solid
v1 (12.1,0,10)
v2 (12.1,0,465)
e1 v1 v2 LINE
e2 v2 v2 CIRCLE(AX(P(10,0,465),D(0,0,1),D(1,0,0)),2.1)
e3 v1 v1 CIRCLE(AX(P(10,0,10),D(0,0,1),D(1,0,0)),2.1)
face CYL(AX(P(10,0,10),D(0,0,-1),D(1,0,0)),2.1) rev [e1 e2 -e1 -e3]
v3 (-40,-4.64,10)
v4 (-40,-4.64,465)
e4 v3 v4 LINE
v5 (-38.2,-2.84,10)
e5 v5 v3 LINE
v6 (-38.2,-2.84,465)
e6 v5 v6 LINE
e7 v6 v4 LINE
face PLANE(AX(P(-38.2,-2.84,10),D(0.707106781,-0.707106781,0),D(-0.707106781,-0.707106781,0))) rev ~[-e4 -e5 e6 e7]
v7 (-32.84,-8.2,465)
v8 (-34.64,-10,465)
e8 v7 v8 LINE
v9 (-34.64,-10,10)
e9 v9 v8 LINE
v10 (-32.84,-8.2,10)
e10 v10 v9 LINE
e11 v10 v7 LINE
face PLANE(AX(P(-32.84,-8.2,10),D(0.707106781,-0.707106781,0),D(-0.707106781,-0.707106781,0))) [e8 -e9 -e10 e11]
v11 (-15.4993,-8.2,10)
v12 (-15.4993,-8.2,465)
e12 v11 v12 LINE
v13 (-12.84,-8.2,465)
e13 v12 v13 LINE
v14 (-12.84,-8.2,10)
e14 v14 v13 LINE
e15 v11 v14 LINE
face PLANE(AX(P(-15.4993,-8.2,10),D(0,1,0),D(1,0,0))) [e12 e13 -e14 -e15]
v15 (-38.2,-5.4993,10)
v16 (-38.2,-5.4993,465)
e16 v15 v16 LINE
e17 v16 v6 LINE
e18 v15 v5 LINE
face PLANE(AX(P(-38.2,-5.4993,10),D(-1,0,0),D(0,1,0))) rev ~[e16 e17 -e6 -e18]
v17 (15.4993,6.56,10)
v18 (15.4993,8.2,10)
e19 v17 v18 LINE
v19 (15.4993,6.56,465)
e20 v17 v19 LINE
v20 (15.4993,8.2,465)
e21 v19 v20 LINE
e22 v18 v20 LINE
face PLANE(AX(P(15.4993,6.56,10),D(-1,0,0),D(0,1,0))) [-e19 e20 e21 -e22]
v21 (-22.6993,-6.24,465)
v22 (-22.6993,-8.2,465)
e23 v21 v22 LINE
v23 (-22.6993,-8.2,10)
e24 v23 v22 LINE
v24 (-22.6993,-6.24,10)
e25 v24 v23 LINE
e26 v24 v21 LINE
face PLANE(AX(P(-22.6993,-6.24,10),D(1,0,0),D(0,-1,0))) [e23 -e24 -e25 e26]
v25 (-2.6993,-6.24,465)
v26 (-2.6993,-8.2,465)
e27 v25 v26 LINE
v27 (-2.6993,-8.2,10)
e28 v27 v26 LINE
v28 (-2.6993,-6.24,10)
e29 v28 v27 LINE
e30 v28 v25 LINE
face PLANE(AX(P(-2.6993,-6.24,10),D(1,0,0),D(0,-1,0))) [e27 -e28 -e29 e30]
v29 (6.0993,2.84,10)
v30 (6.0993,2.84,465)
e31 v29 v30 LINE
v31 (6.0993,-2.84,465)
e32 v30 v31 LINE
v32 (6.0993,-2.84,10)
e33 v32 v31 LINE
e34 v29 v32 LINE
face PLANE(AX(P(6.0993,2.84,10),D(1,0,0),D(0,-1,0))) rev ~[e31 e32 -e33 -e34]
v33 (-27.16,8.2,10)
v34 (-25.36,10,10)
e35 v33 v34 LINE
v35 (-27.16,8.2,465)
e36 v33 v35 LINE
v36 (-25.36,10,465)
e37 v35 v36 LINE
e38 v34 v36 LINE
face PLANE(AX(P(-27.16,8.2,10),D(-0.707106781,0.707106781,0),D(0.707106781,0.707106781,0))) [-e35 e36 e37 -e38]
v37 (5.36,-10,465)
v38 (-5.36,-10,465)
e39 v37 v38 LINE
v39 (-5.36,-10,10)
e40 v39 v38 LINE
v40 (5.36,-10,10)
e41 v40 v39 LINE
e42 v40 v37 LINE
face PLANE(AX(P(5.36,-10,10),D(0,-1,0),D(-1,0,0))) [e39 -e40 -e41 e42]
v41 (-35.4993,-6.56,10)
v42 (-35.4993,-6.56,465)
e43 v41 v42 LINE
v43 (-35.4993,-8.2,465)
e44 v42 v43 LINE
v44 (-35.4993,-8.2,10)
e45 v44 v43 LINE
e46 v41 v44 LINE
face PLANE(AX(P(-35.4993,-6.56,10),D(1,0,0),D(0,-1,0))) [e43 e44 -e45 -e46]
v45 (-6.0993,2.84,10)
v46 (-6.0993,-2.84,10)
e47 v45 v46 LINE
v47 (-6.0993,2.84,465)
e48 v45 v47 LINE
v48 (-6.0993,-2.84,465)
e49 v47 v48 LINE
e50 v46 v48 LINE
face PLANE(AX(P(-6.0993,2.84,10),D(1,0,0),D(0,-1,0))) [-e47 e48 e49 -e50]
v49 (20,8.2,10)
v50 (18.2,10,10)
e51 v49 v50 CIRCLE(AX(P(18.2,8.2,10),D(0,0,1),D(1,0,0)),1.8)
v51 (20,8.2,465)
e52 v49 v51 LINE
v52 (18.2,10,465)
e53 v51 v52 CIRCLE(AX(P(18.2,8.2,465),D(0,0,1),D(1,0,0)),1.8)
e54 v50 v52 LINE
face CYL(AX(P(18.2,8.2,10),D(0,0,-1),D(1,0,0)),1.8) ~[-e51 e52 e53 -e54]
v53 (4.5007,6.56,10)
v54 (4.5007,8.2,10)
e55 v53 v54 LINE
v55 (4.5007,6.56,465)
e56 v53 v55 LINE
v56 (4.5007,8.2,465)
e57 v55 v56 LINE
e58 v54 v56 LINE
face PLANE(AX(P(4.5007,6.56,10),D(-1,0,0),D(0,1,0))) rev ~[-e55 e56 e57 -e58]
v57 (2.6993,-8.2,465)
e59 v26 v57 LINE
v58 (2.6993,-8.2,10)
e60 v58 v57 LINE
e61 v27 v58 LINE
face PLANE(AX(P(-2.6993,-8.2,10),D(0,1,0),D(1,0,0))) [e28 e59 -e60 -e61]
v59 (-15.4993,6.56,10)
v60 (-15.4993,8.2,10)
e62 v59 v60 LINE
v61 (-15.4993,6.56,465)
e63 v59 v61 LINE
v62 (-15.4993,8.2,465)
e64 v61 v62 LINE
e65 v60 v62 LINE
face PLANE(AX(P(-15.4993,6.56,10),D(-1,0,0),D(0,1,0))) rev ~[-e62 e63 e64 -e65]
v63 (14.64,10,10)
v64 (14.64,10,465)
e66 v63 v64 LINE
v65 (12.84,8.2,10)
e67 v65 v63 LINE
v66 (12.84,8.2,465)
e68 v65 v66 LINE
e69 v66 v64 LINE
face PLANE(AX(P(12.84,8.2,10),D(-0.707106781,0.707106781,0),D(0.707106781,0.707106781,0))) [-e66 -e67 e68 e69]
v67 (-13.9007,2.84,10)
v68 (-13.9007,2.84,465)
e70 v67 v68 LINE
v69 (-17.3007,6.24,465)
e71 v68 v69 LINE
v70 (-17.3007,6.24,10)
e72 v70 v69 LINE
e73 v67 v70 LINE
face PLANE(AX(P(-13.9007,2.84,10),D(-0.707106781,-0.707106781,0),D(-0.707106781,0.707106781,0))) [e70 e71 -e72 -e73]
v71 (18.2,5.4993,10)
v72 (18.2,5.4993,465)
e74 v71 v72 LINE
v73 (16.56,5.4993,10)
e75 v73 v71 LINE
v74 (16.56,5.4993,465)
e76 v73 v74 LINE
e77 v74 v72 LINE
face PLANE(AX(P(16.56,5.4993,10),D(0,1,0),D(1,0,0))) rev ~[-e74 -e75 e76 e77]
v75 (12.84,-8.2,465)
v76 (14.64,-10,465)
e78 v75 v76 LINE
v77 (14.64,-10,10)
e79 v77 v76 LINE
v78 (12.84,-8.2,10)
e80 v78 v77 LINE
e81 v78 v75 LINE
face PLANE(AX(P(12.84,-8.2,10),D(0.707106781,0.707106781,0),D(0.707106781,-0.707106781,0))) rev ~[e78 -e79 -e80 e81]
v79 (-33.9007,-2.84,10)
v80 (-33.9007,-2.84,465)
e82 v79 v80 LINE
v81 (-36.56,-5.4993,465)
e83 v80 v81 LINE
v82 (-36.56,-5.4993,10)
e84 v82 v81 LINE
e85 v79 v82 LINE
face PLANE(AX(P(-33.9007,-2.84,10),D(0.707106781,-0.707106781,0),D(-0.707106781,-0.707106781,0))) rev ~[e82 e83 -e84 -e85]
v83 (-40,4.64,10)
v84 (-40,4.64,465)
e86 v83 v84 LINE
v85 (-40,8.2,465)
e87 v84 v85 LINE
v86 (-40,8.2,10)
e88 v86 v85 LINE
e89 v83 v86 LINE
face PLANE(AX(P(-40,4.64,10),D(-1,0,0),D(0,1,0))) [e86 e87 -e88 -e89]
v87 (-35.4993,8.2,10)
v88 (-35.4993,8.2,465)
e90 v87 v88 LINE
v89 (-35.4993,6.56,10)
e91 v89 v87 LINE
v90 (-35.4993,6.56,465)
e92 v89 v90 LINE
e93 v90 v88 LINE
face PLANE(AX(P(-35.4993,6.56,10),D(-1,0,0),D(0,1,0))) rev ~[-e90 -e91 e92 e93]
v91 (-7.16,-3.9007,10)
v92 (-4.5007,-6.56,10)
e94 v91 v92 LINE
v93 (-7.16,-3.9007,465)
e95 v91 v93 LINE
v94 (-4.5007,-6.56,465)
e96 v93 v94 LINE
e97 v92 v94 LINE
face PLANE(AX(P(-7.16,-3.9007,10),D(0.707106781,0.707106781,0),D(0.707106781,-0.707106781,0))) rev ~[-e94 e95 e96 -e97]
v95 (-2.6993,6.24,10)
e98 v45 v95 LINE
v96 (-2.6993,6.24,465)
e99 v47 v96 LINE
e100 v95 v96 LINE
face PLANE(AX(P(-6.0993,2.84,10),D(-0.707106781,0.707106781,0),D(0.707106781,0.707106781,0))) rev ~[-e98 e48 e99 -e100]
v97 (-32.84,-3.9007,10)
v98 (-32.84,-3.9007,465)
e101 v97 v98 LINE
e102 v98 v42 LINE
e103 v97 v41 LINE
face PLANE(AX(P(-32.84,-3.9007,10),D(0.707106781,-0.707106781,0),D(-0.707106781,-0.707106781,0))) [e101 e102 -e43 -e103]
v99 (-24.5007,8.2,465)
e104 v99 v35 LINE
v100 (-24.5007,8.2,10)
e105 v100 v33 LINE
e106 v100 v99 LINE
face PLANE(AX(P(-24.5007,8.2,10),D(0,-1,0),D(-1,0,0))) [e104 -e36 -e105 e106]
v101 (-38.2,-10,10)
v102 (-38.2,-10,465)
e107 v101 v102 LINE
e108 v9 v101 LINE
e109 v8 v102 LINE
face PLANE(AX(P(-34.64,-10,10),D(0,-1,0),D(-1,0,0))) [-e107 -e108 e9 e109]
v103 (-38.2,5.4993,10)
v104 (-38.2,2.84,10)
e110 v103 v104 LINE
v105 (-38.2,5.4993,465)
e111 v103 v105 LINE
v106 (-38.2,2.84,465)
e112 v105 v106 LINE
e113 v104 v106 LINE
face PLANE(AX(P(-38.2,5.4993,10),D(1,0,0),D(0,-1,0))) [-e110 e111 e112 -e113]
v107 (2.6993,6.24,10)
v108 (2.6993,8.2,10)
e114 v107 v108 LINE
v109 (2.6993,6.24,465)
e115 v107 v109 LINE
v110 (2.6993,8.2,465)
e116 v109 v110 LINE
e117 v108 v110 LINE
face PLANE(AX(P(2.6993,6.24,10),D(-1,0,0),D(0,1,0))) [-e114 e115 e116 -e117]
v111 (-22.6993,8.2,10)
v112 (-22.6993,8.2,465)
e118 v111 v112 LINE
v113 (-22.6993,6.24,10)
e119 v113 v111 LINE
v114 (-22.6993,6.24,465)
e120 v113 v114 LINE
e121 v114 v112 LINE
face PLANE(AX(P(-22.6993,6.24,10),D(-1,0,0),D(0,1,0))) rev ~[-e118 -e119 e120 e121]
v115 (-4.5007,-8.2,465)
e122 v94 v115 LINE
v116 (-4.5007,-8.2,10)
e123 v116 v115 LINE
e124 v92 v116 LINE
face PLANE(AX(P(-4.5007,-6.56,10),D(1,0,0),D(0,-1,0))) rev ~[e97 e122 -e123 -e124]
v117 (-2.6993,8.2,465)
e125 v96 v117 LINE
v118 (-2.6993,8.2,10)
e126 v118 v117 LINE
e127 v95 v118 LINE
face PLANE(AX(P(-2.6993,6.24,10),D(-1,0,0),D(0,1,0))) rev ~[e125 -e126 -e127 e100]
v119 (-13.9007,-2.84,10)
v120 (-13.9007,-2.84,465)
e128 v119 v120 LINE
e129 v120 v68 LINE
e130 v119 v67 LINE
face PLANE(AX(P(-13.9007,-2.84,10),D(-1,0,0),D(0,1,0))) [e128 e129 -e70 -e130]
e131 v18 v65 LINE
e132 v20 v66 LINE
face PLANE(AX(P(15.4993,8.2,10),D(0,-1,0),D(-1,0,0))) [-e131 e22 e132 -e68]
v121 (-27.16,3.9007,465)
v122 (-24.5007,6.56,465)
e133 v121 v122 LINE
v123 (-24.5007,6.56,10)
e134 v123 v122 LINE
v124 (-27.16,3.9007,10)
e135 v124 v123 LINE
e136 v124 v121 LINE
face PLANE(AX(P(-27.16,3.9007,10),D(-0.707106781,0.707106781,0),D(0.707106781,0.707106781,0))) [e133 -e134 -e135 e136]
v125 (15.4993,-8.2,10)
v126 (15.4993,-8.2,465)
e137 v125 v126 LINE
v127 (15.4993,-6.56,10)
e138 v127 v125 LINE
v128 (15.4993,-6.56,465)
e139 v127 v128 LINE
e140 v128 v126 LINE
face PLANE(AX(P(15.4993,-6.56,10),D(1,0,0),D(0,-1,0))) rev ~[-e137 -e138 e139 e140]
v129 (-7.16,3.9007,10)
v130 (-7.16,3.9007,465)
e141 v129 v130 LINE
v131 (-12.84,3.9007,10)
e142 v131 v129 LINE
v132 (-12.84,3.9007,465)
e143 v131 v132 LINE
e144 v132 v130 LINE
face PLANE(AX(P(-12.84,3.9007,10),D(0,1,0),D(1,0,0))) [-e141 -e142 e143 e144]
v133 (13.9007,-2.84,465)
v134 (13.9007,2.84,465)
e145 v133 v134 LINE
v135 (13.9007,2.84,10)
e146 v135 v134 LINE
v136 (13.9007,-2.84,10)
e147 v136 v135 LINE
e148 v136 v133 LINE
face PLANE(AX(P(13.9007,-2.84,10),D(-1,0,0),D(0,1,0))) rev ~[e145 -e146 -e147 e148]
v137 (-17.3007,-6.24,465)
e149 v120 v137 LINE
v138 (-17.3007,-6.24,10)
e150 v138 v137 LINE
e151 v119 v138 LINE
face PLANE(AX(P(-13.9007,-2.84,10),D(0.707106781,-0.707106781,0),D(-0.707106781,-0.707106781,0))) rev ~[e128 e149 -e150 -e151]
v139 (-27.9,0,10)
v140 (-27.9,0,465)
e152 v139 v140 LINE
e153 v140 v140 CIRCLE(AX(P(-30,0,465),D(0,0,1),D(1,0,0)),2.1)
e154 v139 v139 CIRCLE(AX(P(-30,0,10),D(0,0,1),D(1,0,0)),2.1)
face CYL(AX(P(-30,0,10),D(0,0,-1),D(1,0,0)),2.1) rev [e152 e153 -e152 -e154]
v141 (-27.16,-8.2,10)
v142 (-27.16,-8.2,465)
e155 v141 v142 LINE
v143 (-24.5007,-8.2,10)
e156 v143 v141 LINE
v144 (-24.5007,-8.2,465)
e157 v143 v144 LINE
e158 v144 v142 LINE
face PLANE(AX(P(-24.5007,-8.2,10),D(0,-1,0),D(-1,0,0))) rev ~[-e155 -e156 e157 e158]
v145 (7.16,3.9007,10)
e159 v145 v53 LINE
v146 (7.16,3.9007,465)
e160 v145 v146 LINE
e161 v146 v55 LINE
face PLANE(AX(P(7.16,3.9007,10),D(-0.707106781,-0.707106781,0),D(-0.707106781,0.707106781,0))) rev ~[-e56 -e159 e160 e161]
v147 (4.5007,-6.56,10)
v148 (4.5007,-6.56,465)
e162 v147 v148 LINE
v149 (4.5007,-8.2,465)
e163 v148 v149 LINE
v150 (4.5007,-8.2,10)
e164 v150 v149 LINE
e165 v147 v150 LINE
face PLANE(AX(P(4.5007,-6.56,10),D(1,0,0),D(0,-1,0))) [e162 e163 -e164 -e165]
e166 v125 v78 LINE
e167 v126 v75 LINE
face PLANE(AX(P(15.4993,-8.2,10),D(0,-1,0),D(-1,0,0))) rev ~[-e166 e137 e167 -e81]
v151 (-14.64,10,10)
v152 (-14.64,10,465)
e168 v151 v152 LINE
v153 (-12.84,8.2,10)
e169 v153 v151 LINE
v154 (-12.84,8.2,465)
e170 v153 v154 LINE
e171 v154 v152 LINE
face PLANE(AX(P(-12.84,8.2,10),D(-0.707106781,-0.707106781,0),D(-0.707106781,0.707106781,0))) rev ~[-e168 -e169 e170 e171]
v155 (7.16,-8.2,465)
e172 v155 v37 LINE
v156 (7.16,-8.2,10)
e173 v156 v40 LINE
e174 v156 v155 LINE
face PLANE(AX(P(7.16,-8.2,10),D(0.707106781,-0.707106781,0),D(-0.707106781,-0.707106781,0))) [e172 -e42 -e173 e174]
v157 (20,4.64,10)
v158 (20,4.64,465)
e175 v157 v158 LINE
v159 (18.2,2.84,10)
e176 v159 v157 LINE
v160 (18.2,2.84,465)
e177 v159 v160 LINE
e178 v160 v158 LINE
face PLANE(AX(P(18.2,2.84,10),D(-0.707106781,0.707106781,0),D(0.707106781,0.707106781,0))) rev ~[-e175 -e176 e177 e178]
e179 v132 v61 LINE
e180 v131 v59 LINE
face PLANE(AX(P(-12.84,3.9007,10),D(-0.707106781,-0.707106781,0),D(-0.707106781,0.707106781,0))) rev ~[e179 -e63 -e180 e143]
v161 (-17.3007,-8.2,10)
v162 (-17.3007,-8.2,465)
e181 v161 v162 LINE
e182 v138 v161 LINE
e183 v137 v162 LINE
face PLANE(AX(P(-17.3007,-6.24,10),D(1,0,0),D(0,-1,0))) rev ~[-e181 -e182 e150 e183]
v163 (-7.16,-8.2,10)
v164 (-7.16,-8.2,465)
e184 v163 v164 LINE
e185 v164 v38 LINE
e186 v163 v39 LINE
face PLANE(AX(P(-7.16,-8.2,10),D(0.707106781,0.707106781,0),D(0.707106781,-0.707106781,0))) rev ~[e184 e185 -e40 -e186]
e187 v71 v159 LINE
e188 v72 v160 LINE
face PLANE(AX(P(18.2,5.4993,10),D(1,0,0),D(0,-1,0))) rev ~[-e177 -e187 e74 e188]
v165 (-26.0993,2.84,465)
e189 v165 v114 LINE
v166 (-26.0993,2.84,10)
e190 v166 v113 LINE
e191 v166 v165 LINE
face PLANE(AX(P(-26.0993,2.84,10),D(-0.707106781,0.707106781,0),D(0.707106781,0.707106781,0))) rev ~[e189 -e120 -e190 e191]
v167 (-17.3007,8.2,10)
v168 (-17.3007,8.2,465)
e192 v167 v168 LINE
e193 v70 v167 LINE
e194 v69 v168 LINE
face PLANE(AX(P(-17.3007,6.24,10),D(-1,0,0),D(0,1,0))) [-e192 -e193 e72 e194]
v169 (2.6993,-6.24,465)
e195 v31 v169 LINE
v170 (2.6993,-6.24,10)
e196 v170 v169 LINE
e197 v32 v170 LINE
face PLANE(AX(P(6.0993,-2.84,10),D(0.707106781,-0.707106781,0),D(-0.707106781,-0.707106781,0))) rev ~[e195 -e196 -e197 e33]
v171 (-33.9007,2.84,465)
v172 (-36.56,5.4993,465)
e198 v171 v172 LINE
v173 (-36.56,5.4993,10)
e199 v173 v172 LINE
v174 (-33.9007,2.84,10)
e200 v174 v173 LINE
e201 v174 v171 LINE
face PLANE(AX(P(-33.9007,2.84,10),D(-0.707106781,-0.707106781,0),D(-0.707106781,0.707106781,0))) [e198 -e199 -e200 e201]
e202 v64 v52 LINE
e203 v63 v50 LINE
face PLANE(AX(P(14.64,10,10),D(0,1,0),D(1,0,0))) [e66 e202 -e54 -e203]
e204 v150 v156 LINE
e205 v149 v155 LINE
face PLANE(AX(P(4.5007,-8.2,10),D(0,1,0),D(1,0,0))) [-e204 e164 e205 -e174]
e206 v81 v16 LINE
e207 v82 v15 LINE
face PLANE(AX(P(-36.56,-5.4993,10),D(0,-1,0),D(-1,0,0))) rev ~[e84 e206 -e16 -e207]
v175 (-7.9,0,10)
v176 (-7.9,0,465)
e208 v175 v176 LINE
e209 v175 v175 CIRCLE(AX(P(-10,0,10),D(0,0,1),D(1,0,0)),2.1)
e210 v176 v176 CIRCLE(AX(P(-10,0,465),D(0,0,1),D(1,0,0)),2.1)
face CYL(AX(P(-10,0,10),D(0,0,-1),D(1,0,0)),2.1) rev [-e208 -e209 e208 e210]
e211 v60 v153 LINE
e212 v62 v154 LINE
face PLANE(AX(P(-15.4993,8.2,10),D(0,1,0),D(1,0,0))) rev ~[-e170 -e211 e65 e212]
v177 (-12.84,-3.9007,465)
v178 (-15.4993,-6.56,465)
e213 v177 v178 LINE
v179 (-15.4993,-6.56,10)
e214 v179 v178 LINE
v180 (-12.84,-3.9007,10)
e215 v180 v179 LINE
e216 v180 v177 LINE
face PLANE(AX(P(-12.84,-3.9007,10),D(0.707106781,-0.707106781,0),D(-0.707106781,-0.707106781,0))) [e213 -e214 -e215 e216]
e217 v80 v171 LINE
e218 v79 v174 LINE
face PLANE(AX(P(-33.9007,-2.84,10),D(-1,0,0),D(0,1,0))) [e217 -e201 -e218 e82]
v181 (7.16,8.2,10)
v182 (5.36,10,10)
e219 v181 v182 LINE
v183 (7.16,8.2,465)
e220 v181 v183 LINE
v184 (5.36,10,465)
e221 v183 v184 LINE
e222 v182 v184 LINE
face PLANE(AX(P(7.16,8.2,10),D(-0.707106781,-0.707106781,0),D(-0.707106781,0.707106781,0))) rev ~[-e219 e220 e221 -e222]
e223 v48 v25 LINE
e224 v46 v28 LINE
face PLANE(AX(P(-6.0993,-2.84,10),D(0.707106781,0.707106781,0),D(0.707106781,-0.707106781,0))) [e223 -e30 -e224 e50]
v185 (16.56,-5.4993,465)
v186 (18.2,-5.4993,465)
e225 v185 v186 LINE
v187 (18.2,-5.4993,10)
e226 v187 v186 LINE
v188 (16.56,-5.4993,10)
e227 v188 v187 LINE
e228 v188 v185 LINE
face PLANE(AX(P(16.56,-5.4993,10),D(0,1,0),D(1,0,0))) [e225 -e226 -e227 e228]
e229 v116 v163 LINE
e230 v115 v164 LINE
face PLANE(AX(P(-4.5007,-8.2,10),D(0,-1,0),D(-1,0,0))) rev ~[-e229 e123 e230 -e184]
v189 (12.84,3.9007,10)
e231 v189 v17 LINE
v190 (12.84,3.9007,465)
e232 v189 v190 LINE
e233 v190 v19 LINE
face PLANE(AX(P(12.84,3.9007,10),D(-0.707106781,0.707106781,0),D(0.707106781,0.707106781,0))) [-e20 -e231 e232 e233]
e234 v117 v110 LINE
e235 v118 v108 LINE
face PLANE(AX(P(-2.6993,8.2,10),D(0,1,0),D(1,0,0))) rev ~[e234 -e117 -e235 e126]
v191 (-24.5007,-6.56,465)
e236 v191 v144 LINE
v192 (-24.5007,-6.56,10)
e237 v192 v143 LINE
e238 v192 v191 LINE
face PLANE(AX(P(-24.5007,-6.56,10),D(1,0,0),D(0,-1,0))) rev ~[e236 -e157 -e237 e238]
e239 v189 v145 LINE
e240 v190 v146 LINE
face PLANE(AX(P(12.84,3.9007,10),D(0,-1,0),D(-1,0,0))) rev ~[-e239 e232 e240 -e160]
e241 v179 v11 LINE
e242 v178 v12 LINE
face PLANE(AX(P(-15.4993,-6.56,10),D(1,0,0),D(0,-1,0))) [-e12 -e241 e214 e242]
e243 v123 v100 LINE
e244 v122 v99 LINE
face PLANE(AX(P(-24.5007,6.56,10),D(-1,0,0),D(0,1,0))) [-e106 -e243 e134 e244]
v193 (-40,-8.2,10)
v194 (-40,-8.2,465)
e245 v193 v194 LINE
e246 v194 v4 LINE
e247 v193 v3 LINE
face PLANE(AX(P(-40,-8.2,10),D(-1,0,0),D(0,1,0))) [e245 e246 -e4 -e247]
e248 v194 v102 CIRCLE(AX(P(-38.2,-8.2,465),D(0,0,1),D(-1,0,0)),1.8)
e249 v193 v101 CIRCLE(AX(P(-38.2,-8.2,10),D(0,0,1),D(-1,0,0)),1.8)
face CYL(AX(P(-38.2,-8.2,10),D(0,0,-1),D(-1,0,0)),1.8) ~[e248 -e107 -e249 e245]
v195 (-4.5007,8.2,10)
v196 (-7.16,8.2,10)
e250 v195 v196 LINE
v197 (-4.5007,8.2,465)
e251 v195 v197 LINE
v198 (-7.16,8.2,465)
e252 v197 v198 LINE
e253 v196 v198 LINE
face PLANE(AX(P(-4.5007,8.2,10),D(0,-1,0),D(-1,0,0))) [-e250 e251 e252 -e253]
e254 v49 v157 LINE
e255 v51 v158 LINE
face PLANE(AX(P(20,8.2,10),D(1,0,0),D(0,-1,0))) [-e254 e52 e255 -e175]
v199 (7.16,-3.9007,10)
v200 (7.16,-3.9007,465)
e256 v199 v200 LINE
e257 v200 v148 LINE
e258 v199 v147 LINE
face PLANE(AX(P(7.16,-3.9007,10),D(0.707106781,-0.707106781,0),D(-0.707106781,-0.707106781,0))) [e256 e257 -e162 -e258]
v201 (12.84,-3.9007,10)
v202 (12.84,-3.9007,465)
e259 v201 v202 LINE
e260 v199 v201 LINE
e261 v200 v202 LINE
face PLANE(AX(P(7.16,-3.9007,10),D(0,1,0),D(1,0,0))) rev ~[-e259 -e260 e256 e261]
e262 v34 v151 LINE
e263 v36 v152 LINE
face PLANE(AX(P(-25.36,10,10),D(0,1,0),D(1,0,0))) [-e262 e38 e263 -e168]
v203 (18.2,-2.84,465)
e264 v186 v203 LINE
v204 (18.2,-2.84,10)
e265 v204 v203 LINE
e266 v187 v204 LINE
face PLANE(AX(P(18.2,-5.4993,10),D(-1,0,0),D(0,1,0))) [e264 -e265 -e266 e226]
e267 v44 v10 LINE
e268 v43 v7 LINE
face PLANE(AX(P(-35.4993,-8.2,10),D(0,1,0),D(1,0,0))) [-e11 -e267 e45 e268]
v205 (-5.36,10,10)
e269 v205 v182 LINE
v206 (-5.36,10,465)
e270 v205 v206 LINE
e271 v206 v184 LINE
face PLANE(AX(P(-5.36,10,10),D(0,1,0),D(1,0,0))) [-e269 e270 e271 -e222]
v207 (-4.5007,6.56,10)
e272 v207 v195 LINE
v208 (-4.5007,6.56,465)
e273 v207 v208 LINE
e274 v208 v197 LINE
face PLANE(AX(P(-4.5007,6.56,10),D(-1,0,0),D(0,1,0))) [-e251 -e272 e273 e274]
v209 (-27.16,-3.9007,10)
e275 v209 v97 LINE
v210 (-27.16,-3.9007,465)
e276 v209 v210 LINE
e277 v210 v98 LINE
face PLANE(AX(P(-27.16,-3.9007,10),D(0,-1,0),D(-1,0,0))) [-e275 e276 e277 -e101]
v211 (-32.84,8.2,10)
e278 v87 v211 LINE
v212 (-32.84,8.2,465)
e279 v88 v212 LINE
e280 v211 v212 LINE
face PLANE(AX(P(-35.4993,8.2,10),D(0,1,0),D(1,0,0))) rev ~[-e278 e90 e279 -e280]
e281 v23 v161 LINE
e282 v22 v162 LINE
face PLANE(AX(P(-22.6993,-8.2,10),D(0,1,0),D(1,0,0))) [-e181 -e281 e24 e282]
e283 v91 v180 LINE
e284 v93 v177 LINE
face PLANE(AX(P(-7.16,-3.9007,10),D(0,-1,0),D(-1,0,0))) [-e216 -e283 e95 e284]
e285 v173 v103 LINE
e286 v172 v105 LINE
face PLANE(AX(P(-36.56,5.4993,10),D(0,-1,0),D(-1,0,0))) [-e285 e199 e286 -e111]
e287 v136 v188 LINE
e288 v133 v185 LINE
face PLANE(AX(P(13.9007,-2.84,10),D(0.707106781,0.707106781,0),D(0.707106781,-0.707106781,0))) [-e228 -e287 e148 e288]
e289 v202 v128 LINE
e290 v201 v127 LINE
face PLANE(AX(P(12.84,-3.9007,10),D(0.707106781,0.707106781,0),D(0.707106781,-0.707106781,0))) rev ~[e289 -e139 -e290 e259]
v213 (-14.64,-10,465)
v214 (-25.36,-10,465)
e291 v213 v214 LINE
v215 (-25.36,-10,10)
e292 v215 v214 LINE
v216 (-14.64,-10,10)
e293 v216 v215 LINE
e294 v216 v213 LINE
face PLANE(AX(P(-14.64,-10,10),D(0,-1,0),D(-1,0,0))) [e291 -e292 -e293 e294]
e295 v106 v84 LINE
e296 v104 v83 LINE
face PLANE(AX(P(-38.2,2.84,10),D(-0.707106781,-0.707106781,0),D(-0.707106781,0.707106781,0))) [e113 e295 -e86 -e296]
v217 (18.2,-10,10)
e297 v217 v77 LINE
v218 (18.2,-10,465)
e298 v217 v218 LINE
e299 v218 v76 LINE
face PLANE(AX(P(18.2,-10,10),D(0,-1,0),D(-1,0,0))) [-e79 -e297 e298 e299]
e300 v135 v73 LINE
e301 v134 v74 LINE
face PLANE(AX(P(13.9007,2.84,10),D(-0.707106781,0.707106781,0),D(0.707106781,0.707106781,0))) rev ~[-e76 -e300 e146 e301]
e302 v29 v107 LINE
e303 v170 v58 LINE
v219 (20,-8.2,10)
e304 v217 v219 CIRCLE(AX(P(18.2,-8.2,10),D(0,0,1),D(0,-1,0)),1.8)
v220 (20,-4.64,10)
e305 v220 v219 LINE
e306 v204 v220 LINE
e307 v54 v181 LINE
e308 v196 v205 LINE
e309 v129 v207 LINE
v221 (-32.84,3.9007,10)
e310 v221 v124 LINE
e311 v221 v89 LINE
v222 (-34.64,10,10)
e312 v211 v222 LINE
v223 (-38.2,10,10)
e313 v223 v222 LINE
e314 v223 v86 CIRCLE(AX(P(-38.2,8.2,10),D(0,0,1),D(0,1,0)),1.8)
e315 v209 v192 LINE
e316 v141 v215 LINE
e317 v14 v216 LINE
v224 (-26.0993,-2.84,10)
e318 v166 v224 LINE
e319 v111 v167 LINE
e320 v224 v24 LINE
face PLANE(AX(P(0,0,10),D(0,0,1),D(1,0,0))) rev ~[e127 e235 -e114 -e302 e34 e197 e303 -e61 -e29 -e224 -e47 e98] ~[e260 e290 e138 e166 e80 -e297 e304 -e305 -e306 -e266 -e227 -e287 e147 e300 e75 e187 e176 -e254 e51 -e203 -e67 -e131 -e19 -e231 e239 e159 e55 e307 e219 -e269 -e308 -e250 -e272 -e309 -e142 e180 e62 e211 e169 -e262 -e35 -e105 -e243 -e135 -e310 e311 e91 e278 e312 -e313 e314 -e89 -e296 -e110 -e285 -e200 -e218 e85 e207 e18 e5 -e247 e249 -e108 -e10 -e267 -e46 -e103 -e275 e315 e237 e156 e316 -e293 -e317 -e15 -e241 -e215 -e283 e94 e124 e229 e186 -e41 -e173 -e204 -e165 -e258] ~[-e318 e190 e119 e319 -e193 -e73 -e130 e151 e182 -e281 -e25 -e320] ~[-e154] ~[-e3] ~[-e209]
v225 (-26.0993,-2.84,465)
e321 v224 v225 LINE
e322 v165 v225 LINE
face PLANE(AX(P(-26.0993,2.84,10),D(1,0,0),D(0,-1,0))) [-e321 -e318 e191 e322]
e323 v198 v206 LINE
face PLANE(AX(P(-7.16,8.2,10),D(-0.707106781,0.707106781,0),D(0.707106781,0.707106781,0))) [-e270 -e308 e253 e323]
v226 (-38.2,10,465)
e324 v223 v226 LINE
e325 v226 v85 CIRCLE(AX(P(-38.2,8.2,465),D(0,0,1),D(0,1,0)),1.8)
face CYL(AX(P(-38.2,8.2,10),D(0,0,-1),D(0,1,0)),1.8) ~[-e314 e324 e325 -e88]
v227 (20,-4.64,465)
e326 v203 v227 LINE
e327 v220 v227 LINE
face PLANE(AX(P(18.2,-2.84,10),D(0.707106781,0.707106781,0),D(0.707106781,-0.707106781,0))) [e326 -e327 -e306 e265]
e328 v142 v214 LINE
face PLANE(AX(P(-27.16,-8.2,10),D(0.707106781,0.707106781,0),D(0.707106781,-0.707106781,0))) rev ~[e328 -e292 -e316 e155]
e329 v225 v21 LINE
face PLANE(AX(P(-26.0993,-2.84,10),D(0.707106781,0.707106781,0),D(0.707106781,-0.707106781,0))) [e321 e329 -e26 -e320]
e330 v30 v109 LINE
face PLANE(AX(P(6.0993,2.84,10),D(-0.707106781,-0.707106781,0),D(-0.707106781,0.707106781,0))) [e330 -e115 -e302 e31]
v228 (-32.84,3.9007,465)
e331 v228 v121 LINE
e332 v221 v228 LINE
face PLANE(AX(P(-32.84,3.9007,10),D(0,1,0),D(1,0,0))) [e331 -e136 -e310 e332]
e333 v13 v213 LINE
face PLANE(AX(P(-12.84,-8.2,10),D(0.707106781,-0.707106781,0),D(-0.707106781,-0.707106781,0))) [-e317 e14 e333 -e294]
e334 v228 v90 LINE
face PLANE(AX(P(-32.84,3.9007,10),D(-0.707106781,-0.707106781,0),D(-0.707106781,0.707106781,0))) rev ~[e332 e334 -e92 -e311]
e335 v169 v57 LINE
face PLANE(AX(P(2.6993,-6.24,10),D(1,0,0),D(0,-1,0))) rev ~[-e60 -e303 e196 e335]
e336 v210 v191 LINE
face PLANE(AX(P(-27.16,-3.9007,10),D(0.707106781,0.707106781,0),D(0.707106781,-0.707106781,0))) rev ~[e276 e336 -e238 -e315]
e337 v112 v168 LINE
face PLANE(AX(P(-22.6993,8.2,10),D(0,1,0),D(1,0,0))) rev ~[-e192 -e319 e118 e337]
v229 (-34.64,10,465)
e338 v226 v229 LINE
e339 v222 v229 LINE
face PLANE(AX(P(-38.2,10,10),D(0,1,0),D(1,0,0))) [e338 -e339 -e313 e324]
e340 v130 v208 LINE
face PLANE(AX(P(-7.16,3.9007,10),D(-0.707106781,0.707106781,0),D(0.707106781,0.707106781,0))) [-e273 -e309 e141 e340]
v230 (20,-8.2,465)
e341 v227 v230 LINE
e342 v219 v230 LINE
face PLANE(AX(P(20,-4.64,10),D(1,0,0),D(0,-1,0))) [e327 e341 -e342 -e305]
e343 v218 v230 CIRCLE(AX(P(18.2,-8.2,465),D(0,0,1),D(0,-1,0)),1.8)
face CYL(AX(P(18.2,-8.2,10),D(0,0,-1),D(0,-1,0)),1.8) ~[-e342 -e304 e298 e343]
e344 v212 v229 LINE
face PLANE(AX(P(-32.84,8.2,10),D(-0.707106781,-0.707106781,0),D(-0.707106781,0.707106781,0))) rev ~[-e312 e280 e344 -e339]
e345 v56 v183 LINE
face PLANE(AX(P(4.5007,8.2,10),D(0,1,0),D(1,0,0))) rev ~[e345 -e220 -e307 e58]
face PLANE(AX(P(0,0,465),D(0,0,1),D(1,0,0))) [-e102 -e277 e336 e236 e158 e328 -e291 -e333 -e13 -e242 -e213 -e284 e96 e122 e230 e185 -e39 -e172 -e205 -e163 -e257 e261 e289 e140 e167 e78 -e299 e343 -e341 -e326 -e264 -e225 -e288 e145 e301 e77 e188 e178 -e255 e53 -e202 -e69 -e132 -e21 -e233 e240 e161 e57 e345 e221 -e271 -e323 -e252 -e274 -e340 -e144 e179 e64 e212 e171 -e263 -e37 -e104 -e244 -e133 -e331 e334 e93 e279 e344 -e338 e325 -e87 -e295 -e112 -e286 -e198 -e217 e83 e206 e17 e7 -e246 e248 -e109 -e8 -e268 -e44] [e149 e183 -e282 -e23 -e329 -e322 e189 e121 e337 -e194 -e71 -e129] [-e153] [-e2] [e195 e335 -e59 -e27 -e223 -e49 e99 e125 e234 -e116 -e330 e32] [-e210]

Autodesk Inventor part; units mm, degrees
ref_plane "Start Plane" through (0, 0, 10) normal (0, 0, 1) x (1, 0, 0)
ref_plane "End Plane" through (0, 0, 465) normal (0, 0, 1) x (1, 0, 0)
sketch "Sketch" plane through (0, 0, 0) normal (0, 0, 1) x (1, 0, 0)
  line L0 (0, 0) -> (0, 10) construction
  line L1 (0, 10) -> (-10, 10) construction
  line L2 (-10, 10) -> (-10, 0) construction
  line L3 (-10, 10) -> (-20, 10) construction
  line L4 (-20, 10) -> (-20, 0) construction
  circle A0 centre (-10, 0) radius 2.1
  line L5 (-13.9007, -3.9007) -> (-6.0993, -3.9007) construction
  line L6 (-6.0993, -3.9007) -> (-6.0993, 3.9007) construction
  line L7 (-6.0993, 3.9007) -> (-13.9007, 3.9007) construction
  line L8 (-13.9007, 3.9007) -> (-13.9007, -3.9007) construction
  line L9 (-13.9007, -3.9007) -> (-6.0993, 3.9007) construction
  line L10 (-6.0993, -3.9007) -> (-13.9007, 3.9007) construction
  line L11 (-13.9007, -2.84) -> (-12.84, -3.9007) construction
  line L12 (-13.9007, -2.84) -> (-12.4007, -2.84) construction
  line L13 (0, 0) -> (-10, 0) construction
  line L14 (-12.84, -3.9007) -> (-15.4993, -6.56)
  line L15 (-15.4993, -6.56) -> (-15.4993, -8.2)
  line L16 (-15.4993, -8.2) -> (-12.84, -8.2)
  line L17 (-12.84, -8.2) -> (-14.64, -10)
  line L18 (-7.16, -3.9007) -> (-4.5007, -6.56)
  line L19 (-4.5007, -6.56) -> (-4.5007, -8.2)
  line L20 (-4.5007, -8.2) -> (-7.16, -8.2)
  line L21 (-7.16, -8.2) -> (-5.36, -10)
  line L22 (-12.84, 3.9007) -> (-15.4993, 6.56)
  line L23 (-15.4993, 6.56) -> (-15.4993, 8.2)
  line L24 (-15.4993, 8.2) -> (-12.84, 8.2)
  line L25 (-12.84, 8.2) -> (-14.64, 10)
  line L26 (-7.16, 3.9007) -> (-4.5007, 6.56)
  line L27 (-4.5007, 6.56) -> (-4.5007, 8.2)
  line L28 (-4.5007, 8.2) -> (-7.16, 8.2)
  line L29 (-7.16, 8.2) -> (-5.36, 10)
  line L30 (-20, -8.2) -> (-15.4993, -8.2) construction
  line L31 (-13.9007, -2.84) -> (-17.3007, -6.24)
  line L32 (-17.3007, -6.24) -> (-17.3007, -8.2)
  line L33 (-13.9007, 2.84) -> (-17.3007, 6.24)
  line L34 (-17.3007, 6.24) -> (-17.3007, 8.2)
  line L35 (-6.0993, -2.84) -> (-2.6993, -6.24)
  line L36 (-2.6993, -6.24) -> (-2.6993, -8.2)
  line L37 (-2.6993, 6.24) -> (-2.6993, 8.2)
  line L38 (-6.0993, 2.84) -> (-2.6993, 6.24)
  line L39 (-30, 10) -> (-30, 0) construction
  line L40 (-30, 10) -> (-20, 10) construction
  circle A1 centre (-30, 0) radius 2.1
  line L41 (-26.0993, -3.9007) -> (-33.9007, -3.9007) construction
  line L42 (-33.9007, -3.9007) -> (-33.9007, 3.9007) construction
  line L43 (-33.9007, 3.9007) -> (-26.0993, 3.9007) construction
  line L44 (-26.0993, 3.9007) -> (-26.0993, -3.9007) construction
  line L45 (-26.0993, -3.9007) -> (-33.9007, 3.9007) construction
  line L46 (-33.9007, -3.9007) -> (-26.0993, 3.9007) construction
  line L47 (-26.0993, -2.84) -> (-27.16, -3.9007) construction
  line L48 (-26.0993, -2.84) -> (-27.5993, -2.84) construction
  line L49 (-27.16, -3.9007) -> (-24.5007, -6.56)
  line L50 (-24.5007, -6.56) -> (-24.5007, -8.2)
  line L51 (-24.5007, -8.2) -> (-27.16, -8.2)
  line L52 (-27.16, -8.2) -> (-25.36, -10)
  line L53 (-32.84, -3.9007) -> (-35.4993, -6.56)
  line L54 (-35.4993, -6.56) -> (-35.4993, -8.2)
  line L55 (-35.4993, -8.2) -> (-32.84, -8.2)
  line L56 (-32.84, -8.2) -> (-34.64, -10)
  line L57 (-27.16, 3.9007) -> (-24.5007, 6.56)
  line L58 (-24.5007, 6.56) -> (-24.5007, 8.2)
  line L59 (-24.5007, 8.2) -> (-27.16, 8.2)
  line L60 (-27.16, 8.2) -> (-25.36, 10)
  line L61 (-32.84, 8.2) -> (-34.64, 10)
  line L62 (-35.4993, 8.2) -> (-32.84, 8.2)
  line L63 (-35.4993, 6.56) -> (-35.4993, 8.2)
  line L64 (-32.84, 3.9007) -> (-35.4993, 6.56)
  line L65 (-20, -8.2) -> (-24.5007, -8.2) construction
  line L66 (-26.0993, -2.84) -> (-22.6993, -6.24)
  line L67 (-22.6993, -6.24) -> (-22.6993, -8.2)
  line L68 (-22.6993, 6.24) -> (-22.6993, 8.2)
  line L69 (-26.0993, 2.84) -> (-22.6993, 6.24)
  line L70 (10, 10) -> (10, 0) construction
  circle A2 centre (10, 0) radius 2.1
  line L71 (13.9007, -3.9007) -> (6.0993, -3.9007) construction
  line L72 (6.0993, -3.9007) -> (6.0993, 3.9007) construction
  line L73 (6.0993, 3.9007) -> (13.9007, 3.9007) construction
  line L74 (13.9007, 3.9007) -> (13.9007, -3.9007) construction
  line L75 (13.9007, -3.9007) -> (6.0993, 3.9007) construction
  line L76 (6.0993, -3.9007) -> (13.9007, 3.9007) construction
  line L77 (13.9007, -2.84) -> (12.84, -3.9007) construction
  line L78 (13.9007, -2.84) -> (12.4007, -2.84) construction
  line L79 (12.84, -3.9007) -> (15.4993, -6.56)
  line L80 (15.4993, -6.56) -> (15.4993, -8.2)
  line L81 (15.4993, -8.2) -> (12.84, -8.2)
  line L82 (12.84, -8.2) -> (14.64, -10)
  line L83 (7.16, -3.9007) -> (4.5007, -6.56)
  line L84 (4.5007, -6.56) -> (4.5007, -8.2)
  line L85 (4.5007, -8.2) -> (7.16, -8.2)
  line L86 (7.16, -8.2) -> (5.36, -10)
  line L87 (12.84, 3.9007) -> (15.4993, 6.56)
  line L88 (15.4993, 6.56) -> (15.4993, 8.2)
  line L89 (15.4993, 8.2) -> (12.84, 8.2)
  line L90 (12.84, 8.2) -> (14.64, 10)
  line L91 (7.16, 8.2) -> (5.36, 10)
  line L92 (4.5007, 8.2) -> (7.16, 8.2)
  line L93 (4.5007, 6.56) -> (4.5007, 8.2)
  line L94 (7.16, 3.9007) -> (4.5007, 6.56)
  line L95 (2.6993, 6.24) -> (2.6993, 8.2)
  line L96 (6.0993, 2.84) -> (2.6993, 6.24)
  line L97 (6.0993, -2.84) -> (2.6993, -6.24)
  line L98 (2.6993, -6.24) -> (2.6993, -8.2)
  line L99 (-33.9007, -2.84) -> (-36.56, -5.4993)
  line L100 (-38.2, -5.4993) -> (-38.2, -2.84)
  line L101 (-38.2, -2.84) -> (-40, -4.64)
  line L102 (-36.56, -5.4993) -> (-38.2, -5.4993)
  line L103 (-32.84, 3.9007) -> (-35.4993, 6.56)
  line L104 (-35.4993, 8.2) -> (-32.84, 8.2)
  line L105 (-32.84, 8.2) -> (-34.64, 10)
  line L106 (-35.4993, 6.56) -> (-35.4993, 8.2)
  line L107 (-38.2, 2.84) -> (-40, 4.64)
  line L108 (-38.2, 5.4993) -> (-38.2, 2.84)
  line L109 (-36.56, 5.4993) -> (-38.2, 5.4993)
  line L110 (-33.9007, 2.84) -> (-36.56, 5.4993)
  line L111 (18.2, -2.84) -> (20, -4.64)
  line L112 (18.2, -5.4993) -> (18.2, -2.84)
  line L113 (16.56, -5.4993) -> (18.2, -5.4993)
  line L114 (13.9007, -2.84) -> (16.56, -5.4993)
  line L115 (18.2, 2.84) -> (20, 4.64)
  line L116 (18.2, 5.4993) -> (18.2, 2.84)
  line L117 (16.56, 5.4993) -> (18.2, 5.4993)
  line L118 (13.9007, 2.84) -> (16.56, 5.4993)
  line L119 (-25.36, 10) -> (-14.64, 10)
  line L120 (-5.36, 10) -> (5.36, 10)
  line L121 (5.36, -10) -> (-5.36, -10)
  line L122 (-14.64, -10) -> (-25.36, -10)
  line L123 (-2.6993, 8.2) -> (2.6993, 8.2)
  line L124 (-2.6993, -8.2) -> (2.6993, -8.2)
  line L125 (6.0993, 2.84) -> (6.0993, -2.84)
  line L126 (7.16, -3.9007) -> (12.84, -3.9007)
  line L127 (13.9007, -2.84) -> (13.9007, 2.84)
  line L128 (12.84, 3.9007) -> (7.16, 3.9007)
  line L129 (-6.0993, 2.84) -> (-6.0993, -2.84)
  line L130 (-7.16, -3.9007) -> (-12.84, -3.9007)
  line L131 (-13.9007, -2.84) -> (-13.9007, 2.84)
  line L132 (-12.84, 3.9007) -> (-7.16, 3.9007)
  line L133 (-22.6993, -8.2) -> (-17.3007, -8.2)
  line L134 (-22.6993, 8.2) -> (-17.3007, 8.2)
  line L135 (-26.0993, 2.84) -> (-26.0993, -2.84)
  line L136 (-27.16, -3.9007) -> (-32.84, -3.9007)
  line L137 (-33.9007, -2.84) -> (-33.9007, 2.84)
  line L138 (-32.84, 3.9007) -> (-27.16, 3.9007)
  line L139 (-34.64, -10) -> (-38.2, -10)
  line L140 (-40, -8.2) -> (-40, -4.64)
  line L141 (-40, 4.64) -> (-40, 8.2)
  line L142 (-38.2, 10) -> (-34.64, 10)
  line L143 (14.64, 10) -> (18.2, 10)
  line L144 (20, 8.2) -> (20, 4.64)
  line L145 (20, -4.64) -> (20, -8.2)
  line L146 (18.2, -10) -> (14.64, -10)
  arc A3 (-38.2, 10) -> (-40, 8.2) centre (-38.2, 8.2) ccw
  arc A4 (-40, -8.2) -> (-38.2, -10) centre (-38.2, -8.2) ccw
  arc A5 (18.2, -10) -> (20, -8.2) centre (18.2, -8.2) ccw
  arc A6 (20, 8.2) -> (18.2, 10) centre (18.2, 8.2) ccw
  dimension "d0" = 10
  dimension "d1" = 10
  dimension "d2" = 10
  dimension "d3" = 4.2
  dimension "d4" = 1.5
  dimension "d5" = 45
  dimension "d6" = 1.64
  dimension "d7" = 1.8
  dimension "d8" = 10
  dimension "d9" = 2.84
  dimension "d11" = 135
  dimension "d12" = 1.96
  dimension "d13" = 5.68
  dimension "d14" = 1.8
extrude "Body" add sketch "Sketch" along normal up to surface (455 mm away) from surface at 10
sketch "Sketch4" plane through (0, 0, 0) normal (0, 0, 1) x (1, 0, 0)
  line L0 (0, 0) -> (10, 0)
ref_plane "Work Plane4" through (0, 0, 0) normal (0, -1, 0) x (1, 0, 0)
sketch "Sketch5" plane through (0, 0, 0) normal (0, -1, 0) x (1, 0, 0)
  line L0 (-2, 10) -> (12, 10)
  line L1 (-2, 465) -> (12, 465)
  dimension "d22" = 455
ref_plane "Work Plane5" through (235, 4.5951, 10) normal (0, 0, -1) x (-1, 0, 0)
split "Split1" plane through (235, 4.5951, 10) removes the side toward (0, 0, -1)
ref_plane "Work Plane6" through (235, 8.2, 465) normal (0, 0, 1) x (1, 0, 0)
split "Split2" plane through (235, 8.2, 465) removes the side toward (0, 0, 1)
equation "\"d18\" = Length + G_OFFSET_END"
equation "\"G_L\" = d22"
equation "\"Length\" = 475"
equation "\"G_OFFSET_END\" = -10"
properties part number "vslot 20 x 60" material "Aluminum 6061"
